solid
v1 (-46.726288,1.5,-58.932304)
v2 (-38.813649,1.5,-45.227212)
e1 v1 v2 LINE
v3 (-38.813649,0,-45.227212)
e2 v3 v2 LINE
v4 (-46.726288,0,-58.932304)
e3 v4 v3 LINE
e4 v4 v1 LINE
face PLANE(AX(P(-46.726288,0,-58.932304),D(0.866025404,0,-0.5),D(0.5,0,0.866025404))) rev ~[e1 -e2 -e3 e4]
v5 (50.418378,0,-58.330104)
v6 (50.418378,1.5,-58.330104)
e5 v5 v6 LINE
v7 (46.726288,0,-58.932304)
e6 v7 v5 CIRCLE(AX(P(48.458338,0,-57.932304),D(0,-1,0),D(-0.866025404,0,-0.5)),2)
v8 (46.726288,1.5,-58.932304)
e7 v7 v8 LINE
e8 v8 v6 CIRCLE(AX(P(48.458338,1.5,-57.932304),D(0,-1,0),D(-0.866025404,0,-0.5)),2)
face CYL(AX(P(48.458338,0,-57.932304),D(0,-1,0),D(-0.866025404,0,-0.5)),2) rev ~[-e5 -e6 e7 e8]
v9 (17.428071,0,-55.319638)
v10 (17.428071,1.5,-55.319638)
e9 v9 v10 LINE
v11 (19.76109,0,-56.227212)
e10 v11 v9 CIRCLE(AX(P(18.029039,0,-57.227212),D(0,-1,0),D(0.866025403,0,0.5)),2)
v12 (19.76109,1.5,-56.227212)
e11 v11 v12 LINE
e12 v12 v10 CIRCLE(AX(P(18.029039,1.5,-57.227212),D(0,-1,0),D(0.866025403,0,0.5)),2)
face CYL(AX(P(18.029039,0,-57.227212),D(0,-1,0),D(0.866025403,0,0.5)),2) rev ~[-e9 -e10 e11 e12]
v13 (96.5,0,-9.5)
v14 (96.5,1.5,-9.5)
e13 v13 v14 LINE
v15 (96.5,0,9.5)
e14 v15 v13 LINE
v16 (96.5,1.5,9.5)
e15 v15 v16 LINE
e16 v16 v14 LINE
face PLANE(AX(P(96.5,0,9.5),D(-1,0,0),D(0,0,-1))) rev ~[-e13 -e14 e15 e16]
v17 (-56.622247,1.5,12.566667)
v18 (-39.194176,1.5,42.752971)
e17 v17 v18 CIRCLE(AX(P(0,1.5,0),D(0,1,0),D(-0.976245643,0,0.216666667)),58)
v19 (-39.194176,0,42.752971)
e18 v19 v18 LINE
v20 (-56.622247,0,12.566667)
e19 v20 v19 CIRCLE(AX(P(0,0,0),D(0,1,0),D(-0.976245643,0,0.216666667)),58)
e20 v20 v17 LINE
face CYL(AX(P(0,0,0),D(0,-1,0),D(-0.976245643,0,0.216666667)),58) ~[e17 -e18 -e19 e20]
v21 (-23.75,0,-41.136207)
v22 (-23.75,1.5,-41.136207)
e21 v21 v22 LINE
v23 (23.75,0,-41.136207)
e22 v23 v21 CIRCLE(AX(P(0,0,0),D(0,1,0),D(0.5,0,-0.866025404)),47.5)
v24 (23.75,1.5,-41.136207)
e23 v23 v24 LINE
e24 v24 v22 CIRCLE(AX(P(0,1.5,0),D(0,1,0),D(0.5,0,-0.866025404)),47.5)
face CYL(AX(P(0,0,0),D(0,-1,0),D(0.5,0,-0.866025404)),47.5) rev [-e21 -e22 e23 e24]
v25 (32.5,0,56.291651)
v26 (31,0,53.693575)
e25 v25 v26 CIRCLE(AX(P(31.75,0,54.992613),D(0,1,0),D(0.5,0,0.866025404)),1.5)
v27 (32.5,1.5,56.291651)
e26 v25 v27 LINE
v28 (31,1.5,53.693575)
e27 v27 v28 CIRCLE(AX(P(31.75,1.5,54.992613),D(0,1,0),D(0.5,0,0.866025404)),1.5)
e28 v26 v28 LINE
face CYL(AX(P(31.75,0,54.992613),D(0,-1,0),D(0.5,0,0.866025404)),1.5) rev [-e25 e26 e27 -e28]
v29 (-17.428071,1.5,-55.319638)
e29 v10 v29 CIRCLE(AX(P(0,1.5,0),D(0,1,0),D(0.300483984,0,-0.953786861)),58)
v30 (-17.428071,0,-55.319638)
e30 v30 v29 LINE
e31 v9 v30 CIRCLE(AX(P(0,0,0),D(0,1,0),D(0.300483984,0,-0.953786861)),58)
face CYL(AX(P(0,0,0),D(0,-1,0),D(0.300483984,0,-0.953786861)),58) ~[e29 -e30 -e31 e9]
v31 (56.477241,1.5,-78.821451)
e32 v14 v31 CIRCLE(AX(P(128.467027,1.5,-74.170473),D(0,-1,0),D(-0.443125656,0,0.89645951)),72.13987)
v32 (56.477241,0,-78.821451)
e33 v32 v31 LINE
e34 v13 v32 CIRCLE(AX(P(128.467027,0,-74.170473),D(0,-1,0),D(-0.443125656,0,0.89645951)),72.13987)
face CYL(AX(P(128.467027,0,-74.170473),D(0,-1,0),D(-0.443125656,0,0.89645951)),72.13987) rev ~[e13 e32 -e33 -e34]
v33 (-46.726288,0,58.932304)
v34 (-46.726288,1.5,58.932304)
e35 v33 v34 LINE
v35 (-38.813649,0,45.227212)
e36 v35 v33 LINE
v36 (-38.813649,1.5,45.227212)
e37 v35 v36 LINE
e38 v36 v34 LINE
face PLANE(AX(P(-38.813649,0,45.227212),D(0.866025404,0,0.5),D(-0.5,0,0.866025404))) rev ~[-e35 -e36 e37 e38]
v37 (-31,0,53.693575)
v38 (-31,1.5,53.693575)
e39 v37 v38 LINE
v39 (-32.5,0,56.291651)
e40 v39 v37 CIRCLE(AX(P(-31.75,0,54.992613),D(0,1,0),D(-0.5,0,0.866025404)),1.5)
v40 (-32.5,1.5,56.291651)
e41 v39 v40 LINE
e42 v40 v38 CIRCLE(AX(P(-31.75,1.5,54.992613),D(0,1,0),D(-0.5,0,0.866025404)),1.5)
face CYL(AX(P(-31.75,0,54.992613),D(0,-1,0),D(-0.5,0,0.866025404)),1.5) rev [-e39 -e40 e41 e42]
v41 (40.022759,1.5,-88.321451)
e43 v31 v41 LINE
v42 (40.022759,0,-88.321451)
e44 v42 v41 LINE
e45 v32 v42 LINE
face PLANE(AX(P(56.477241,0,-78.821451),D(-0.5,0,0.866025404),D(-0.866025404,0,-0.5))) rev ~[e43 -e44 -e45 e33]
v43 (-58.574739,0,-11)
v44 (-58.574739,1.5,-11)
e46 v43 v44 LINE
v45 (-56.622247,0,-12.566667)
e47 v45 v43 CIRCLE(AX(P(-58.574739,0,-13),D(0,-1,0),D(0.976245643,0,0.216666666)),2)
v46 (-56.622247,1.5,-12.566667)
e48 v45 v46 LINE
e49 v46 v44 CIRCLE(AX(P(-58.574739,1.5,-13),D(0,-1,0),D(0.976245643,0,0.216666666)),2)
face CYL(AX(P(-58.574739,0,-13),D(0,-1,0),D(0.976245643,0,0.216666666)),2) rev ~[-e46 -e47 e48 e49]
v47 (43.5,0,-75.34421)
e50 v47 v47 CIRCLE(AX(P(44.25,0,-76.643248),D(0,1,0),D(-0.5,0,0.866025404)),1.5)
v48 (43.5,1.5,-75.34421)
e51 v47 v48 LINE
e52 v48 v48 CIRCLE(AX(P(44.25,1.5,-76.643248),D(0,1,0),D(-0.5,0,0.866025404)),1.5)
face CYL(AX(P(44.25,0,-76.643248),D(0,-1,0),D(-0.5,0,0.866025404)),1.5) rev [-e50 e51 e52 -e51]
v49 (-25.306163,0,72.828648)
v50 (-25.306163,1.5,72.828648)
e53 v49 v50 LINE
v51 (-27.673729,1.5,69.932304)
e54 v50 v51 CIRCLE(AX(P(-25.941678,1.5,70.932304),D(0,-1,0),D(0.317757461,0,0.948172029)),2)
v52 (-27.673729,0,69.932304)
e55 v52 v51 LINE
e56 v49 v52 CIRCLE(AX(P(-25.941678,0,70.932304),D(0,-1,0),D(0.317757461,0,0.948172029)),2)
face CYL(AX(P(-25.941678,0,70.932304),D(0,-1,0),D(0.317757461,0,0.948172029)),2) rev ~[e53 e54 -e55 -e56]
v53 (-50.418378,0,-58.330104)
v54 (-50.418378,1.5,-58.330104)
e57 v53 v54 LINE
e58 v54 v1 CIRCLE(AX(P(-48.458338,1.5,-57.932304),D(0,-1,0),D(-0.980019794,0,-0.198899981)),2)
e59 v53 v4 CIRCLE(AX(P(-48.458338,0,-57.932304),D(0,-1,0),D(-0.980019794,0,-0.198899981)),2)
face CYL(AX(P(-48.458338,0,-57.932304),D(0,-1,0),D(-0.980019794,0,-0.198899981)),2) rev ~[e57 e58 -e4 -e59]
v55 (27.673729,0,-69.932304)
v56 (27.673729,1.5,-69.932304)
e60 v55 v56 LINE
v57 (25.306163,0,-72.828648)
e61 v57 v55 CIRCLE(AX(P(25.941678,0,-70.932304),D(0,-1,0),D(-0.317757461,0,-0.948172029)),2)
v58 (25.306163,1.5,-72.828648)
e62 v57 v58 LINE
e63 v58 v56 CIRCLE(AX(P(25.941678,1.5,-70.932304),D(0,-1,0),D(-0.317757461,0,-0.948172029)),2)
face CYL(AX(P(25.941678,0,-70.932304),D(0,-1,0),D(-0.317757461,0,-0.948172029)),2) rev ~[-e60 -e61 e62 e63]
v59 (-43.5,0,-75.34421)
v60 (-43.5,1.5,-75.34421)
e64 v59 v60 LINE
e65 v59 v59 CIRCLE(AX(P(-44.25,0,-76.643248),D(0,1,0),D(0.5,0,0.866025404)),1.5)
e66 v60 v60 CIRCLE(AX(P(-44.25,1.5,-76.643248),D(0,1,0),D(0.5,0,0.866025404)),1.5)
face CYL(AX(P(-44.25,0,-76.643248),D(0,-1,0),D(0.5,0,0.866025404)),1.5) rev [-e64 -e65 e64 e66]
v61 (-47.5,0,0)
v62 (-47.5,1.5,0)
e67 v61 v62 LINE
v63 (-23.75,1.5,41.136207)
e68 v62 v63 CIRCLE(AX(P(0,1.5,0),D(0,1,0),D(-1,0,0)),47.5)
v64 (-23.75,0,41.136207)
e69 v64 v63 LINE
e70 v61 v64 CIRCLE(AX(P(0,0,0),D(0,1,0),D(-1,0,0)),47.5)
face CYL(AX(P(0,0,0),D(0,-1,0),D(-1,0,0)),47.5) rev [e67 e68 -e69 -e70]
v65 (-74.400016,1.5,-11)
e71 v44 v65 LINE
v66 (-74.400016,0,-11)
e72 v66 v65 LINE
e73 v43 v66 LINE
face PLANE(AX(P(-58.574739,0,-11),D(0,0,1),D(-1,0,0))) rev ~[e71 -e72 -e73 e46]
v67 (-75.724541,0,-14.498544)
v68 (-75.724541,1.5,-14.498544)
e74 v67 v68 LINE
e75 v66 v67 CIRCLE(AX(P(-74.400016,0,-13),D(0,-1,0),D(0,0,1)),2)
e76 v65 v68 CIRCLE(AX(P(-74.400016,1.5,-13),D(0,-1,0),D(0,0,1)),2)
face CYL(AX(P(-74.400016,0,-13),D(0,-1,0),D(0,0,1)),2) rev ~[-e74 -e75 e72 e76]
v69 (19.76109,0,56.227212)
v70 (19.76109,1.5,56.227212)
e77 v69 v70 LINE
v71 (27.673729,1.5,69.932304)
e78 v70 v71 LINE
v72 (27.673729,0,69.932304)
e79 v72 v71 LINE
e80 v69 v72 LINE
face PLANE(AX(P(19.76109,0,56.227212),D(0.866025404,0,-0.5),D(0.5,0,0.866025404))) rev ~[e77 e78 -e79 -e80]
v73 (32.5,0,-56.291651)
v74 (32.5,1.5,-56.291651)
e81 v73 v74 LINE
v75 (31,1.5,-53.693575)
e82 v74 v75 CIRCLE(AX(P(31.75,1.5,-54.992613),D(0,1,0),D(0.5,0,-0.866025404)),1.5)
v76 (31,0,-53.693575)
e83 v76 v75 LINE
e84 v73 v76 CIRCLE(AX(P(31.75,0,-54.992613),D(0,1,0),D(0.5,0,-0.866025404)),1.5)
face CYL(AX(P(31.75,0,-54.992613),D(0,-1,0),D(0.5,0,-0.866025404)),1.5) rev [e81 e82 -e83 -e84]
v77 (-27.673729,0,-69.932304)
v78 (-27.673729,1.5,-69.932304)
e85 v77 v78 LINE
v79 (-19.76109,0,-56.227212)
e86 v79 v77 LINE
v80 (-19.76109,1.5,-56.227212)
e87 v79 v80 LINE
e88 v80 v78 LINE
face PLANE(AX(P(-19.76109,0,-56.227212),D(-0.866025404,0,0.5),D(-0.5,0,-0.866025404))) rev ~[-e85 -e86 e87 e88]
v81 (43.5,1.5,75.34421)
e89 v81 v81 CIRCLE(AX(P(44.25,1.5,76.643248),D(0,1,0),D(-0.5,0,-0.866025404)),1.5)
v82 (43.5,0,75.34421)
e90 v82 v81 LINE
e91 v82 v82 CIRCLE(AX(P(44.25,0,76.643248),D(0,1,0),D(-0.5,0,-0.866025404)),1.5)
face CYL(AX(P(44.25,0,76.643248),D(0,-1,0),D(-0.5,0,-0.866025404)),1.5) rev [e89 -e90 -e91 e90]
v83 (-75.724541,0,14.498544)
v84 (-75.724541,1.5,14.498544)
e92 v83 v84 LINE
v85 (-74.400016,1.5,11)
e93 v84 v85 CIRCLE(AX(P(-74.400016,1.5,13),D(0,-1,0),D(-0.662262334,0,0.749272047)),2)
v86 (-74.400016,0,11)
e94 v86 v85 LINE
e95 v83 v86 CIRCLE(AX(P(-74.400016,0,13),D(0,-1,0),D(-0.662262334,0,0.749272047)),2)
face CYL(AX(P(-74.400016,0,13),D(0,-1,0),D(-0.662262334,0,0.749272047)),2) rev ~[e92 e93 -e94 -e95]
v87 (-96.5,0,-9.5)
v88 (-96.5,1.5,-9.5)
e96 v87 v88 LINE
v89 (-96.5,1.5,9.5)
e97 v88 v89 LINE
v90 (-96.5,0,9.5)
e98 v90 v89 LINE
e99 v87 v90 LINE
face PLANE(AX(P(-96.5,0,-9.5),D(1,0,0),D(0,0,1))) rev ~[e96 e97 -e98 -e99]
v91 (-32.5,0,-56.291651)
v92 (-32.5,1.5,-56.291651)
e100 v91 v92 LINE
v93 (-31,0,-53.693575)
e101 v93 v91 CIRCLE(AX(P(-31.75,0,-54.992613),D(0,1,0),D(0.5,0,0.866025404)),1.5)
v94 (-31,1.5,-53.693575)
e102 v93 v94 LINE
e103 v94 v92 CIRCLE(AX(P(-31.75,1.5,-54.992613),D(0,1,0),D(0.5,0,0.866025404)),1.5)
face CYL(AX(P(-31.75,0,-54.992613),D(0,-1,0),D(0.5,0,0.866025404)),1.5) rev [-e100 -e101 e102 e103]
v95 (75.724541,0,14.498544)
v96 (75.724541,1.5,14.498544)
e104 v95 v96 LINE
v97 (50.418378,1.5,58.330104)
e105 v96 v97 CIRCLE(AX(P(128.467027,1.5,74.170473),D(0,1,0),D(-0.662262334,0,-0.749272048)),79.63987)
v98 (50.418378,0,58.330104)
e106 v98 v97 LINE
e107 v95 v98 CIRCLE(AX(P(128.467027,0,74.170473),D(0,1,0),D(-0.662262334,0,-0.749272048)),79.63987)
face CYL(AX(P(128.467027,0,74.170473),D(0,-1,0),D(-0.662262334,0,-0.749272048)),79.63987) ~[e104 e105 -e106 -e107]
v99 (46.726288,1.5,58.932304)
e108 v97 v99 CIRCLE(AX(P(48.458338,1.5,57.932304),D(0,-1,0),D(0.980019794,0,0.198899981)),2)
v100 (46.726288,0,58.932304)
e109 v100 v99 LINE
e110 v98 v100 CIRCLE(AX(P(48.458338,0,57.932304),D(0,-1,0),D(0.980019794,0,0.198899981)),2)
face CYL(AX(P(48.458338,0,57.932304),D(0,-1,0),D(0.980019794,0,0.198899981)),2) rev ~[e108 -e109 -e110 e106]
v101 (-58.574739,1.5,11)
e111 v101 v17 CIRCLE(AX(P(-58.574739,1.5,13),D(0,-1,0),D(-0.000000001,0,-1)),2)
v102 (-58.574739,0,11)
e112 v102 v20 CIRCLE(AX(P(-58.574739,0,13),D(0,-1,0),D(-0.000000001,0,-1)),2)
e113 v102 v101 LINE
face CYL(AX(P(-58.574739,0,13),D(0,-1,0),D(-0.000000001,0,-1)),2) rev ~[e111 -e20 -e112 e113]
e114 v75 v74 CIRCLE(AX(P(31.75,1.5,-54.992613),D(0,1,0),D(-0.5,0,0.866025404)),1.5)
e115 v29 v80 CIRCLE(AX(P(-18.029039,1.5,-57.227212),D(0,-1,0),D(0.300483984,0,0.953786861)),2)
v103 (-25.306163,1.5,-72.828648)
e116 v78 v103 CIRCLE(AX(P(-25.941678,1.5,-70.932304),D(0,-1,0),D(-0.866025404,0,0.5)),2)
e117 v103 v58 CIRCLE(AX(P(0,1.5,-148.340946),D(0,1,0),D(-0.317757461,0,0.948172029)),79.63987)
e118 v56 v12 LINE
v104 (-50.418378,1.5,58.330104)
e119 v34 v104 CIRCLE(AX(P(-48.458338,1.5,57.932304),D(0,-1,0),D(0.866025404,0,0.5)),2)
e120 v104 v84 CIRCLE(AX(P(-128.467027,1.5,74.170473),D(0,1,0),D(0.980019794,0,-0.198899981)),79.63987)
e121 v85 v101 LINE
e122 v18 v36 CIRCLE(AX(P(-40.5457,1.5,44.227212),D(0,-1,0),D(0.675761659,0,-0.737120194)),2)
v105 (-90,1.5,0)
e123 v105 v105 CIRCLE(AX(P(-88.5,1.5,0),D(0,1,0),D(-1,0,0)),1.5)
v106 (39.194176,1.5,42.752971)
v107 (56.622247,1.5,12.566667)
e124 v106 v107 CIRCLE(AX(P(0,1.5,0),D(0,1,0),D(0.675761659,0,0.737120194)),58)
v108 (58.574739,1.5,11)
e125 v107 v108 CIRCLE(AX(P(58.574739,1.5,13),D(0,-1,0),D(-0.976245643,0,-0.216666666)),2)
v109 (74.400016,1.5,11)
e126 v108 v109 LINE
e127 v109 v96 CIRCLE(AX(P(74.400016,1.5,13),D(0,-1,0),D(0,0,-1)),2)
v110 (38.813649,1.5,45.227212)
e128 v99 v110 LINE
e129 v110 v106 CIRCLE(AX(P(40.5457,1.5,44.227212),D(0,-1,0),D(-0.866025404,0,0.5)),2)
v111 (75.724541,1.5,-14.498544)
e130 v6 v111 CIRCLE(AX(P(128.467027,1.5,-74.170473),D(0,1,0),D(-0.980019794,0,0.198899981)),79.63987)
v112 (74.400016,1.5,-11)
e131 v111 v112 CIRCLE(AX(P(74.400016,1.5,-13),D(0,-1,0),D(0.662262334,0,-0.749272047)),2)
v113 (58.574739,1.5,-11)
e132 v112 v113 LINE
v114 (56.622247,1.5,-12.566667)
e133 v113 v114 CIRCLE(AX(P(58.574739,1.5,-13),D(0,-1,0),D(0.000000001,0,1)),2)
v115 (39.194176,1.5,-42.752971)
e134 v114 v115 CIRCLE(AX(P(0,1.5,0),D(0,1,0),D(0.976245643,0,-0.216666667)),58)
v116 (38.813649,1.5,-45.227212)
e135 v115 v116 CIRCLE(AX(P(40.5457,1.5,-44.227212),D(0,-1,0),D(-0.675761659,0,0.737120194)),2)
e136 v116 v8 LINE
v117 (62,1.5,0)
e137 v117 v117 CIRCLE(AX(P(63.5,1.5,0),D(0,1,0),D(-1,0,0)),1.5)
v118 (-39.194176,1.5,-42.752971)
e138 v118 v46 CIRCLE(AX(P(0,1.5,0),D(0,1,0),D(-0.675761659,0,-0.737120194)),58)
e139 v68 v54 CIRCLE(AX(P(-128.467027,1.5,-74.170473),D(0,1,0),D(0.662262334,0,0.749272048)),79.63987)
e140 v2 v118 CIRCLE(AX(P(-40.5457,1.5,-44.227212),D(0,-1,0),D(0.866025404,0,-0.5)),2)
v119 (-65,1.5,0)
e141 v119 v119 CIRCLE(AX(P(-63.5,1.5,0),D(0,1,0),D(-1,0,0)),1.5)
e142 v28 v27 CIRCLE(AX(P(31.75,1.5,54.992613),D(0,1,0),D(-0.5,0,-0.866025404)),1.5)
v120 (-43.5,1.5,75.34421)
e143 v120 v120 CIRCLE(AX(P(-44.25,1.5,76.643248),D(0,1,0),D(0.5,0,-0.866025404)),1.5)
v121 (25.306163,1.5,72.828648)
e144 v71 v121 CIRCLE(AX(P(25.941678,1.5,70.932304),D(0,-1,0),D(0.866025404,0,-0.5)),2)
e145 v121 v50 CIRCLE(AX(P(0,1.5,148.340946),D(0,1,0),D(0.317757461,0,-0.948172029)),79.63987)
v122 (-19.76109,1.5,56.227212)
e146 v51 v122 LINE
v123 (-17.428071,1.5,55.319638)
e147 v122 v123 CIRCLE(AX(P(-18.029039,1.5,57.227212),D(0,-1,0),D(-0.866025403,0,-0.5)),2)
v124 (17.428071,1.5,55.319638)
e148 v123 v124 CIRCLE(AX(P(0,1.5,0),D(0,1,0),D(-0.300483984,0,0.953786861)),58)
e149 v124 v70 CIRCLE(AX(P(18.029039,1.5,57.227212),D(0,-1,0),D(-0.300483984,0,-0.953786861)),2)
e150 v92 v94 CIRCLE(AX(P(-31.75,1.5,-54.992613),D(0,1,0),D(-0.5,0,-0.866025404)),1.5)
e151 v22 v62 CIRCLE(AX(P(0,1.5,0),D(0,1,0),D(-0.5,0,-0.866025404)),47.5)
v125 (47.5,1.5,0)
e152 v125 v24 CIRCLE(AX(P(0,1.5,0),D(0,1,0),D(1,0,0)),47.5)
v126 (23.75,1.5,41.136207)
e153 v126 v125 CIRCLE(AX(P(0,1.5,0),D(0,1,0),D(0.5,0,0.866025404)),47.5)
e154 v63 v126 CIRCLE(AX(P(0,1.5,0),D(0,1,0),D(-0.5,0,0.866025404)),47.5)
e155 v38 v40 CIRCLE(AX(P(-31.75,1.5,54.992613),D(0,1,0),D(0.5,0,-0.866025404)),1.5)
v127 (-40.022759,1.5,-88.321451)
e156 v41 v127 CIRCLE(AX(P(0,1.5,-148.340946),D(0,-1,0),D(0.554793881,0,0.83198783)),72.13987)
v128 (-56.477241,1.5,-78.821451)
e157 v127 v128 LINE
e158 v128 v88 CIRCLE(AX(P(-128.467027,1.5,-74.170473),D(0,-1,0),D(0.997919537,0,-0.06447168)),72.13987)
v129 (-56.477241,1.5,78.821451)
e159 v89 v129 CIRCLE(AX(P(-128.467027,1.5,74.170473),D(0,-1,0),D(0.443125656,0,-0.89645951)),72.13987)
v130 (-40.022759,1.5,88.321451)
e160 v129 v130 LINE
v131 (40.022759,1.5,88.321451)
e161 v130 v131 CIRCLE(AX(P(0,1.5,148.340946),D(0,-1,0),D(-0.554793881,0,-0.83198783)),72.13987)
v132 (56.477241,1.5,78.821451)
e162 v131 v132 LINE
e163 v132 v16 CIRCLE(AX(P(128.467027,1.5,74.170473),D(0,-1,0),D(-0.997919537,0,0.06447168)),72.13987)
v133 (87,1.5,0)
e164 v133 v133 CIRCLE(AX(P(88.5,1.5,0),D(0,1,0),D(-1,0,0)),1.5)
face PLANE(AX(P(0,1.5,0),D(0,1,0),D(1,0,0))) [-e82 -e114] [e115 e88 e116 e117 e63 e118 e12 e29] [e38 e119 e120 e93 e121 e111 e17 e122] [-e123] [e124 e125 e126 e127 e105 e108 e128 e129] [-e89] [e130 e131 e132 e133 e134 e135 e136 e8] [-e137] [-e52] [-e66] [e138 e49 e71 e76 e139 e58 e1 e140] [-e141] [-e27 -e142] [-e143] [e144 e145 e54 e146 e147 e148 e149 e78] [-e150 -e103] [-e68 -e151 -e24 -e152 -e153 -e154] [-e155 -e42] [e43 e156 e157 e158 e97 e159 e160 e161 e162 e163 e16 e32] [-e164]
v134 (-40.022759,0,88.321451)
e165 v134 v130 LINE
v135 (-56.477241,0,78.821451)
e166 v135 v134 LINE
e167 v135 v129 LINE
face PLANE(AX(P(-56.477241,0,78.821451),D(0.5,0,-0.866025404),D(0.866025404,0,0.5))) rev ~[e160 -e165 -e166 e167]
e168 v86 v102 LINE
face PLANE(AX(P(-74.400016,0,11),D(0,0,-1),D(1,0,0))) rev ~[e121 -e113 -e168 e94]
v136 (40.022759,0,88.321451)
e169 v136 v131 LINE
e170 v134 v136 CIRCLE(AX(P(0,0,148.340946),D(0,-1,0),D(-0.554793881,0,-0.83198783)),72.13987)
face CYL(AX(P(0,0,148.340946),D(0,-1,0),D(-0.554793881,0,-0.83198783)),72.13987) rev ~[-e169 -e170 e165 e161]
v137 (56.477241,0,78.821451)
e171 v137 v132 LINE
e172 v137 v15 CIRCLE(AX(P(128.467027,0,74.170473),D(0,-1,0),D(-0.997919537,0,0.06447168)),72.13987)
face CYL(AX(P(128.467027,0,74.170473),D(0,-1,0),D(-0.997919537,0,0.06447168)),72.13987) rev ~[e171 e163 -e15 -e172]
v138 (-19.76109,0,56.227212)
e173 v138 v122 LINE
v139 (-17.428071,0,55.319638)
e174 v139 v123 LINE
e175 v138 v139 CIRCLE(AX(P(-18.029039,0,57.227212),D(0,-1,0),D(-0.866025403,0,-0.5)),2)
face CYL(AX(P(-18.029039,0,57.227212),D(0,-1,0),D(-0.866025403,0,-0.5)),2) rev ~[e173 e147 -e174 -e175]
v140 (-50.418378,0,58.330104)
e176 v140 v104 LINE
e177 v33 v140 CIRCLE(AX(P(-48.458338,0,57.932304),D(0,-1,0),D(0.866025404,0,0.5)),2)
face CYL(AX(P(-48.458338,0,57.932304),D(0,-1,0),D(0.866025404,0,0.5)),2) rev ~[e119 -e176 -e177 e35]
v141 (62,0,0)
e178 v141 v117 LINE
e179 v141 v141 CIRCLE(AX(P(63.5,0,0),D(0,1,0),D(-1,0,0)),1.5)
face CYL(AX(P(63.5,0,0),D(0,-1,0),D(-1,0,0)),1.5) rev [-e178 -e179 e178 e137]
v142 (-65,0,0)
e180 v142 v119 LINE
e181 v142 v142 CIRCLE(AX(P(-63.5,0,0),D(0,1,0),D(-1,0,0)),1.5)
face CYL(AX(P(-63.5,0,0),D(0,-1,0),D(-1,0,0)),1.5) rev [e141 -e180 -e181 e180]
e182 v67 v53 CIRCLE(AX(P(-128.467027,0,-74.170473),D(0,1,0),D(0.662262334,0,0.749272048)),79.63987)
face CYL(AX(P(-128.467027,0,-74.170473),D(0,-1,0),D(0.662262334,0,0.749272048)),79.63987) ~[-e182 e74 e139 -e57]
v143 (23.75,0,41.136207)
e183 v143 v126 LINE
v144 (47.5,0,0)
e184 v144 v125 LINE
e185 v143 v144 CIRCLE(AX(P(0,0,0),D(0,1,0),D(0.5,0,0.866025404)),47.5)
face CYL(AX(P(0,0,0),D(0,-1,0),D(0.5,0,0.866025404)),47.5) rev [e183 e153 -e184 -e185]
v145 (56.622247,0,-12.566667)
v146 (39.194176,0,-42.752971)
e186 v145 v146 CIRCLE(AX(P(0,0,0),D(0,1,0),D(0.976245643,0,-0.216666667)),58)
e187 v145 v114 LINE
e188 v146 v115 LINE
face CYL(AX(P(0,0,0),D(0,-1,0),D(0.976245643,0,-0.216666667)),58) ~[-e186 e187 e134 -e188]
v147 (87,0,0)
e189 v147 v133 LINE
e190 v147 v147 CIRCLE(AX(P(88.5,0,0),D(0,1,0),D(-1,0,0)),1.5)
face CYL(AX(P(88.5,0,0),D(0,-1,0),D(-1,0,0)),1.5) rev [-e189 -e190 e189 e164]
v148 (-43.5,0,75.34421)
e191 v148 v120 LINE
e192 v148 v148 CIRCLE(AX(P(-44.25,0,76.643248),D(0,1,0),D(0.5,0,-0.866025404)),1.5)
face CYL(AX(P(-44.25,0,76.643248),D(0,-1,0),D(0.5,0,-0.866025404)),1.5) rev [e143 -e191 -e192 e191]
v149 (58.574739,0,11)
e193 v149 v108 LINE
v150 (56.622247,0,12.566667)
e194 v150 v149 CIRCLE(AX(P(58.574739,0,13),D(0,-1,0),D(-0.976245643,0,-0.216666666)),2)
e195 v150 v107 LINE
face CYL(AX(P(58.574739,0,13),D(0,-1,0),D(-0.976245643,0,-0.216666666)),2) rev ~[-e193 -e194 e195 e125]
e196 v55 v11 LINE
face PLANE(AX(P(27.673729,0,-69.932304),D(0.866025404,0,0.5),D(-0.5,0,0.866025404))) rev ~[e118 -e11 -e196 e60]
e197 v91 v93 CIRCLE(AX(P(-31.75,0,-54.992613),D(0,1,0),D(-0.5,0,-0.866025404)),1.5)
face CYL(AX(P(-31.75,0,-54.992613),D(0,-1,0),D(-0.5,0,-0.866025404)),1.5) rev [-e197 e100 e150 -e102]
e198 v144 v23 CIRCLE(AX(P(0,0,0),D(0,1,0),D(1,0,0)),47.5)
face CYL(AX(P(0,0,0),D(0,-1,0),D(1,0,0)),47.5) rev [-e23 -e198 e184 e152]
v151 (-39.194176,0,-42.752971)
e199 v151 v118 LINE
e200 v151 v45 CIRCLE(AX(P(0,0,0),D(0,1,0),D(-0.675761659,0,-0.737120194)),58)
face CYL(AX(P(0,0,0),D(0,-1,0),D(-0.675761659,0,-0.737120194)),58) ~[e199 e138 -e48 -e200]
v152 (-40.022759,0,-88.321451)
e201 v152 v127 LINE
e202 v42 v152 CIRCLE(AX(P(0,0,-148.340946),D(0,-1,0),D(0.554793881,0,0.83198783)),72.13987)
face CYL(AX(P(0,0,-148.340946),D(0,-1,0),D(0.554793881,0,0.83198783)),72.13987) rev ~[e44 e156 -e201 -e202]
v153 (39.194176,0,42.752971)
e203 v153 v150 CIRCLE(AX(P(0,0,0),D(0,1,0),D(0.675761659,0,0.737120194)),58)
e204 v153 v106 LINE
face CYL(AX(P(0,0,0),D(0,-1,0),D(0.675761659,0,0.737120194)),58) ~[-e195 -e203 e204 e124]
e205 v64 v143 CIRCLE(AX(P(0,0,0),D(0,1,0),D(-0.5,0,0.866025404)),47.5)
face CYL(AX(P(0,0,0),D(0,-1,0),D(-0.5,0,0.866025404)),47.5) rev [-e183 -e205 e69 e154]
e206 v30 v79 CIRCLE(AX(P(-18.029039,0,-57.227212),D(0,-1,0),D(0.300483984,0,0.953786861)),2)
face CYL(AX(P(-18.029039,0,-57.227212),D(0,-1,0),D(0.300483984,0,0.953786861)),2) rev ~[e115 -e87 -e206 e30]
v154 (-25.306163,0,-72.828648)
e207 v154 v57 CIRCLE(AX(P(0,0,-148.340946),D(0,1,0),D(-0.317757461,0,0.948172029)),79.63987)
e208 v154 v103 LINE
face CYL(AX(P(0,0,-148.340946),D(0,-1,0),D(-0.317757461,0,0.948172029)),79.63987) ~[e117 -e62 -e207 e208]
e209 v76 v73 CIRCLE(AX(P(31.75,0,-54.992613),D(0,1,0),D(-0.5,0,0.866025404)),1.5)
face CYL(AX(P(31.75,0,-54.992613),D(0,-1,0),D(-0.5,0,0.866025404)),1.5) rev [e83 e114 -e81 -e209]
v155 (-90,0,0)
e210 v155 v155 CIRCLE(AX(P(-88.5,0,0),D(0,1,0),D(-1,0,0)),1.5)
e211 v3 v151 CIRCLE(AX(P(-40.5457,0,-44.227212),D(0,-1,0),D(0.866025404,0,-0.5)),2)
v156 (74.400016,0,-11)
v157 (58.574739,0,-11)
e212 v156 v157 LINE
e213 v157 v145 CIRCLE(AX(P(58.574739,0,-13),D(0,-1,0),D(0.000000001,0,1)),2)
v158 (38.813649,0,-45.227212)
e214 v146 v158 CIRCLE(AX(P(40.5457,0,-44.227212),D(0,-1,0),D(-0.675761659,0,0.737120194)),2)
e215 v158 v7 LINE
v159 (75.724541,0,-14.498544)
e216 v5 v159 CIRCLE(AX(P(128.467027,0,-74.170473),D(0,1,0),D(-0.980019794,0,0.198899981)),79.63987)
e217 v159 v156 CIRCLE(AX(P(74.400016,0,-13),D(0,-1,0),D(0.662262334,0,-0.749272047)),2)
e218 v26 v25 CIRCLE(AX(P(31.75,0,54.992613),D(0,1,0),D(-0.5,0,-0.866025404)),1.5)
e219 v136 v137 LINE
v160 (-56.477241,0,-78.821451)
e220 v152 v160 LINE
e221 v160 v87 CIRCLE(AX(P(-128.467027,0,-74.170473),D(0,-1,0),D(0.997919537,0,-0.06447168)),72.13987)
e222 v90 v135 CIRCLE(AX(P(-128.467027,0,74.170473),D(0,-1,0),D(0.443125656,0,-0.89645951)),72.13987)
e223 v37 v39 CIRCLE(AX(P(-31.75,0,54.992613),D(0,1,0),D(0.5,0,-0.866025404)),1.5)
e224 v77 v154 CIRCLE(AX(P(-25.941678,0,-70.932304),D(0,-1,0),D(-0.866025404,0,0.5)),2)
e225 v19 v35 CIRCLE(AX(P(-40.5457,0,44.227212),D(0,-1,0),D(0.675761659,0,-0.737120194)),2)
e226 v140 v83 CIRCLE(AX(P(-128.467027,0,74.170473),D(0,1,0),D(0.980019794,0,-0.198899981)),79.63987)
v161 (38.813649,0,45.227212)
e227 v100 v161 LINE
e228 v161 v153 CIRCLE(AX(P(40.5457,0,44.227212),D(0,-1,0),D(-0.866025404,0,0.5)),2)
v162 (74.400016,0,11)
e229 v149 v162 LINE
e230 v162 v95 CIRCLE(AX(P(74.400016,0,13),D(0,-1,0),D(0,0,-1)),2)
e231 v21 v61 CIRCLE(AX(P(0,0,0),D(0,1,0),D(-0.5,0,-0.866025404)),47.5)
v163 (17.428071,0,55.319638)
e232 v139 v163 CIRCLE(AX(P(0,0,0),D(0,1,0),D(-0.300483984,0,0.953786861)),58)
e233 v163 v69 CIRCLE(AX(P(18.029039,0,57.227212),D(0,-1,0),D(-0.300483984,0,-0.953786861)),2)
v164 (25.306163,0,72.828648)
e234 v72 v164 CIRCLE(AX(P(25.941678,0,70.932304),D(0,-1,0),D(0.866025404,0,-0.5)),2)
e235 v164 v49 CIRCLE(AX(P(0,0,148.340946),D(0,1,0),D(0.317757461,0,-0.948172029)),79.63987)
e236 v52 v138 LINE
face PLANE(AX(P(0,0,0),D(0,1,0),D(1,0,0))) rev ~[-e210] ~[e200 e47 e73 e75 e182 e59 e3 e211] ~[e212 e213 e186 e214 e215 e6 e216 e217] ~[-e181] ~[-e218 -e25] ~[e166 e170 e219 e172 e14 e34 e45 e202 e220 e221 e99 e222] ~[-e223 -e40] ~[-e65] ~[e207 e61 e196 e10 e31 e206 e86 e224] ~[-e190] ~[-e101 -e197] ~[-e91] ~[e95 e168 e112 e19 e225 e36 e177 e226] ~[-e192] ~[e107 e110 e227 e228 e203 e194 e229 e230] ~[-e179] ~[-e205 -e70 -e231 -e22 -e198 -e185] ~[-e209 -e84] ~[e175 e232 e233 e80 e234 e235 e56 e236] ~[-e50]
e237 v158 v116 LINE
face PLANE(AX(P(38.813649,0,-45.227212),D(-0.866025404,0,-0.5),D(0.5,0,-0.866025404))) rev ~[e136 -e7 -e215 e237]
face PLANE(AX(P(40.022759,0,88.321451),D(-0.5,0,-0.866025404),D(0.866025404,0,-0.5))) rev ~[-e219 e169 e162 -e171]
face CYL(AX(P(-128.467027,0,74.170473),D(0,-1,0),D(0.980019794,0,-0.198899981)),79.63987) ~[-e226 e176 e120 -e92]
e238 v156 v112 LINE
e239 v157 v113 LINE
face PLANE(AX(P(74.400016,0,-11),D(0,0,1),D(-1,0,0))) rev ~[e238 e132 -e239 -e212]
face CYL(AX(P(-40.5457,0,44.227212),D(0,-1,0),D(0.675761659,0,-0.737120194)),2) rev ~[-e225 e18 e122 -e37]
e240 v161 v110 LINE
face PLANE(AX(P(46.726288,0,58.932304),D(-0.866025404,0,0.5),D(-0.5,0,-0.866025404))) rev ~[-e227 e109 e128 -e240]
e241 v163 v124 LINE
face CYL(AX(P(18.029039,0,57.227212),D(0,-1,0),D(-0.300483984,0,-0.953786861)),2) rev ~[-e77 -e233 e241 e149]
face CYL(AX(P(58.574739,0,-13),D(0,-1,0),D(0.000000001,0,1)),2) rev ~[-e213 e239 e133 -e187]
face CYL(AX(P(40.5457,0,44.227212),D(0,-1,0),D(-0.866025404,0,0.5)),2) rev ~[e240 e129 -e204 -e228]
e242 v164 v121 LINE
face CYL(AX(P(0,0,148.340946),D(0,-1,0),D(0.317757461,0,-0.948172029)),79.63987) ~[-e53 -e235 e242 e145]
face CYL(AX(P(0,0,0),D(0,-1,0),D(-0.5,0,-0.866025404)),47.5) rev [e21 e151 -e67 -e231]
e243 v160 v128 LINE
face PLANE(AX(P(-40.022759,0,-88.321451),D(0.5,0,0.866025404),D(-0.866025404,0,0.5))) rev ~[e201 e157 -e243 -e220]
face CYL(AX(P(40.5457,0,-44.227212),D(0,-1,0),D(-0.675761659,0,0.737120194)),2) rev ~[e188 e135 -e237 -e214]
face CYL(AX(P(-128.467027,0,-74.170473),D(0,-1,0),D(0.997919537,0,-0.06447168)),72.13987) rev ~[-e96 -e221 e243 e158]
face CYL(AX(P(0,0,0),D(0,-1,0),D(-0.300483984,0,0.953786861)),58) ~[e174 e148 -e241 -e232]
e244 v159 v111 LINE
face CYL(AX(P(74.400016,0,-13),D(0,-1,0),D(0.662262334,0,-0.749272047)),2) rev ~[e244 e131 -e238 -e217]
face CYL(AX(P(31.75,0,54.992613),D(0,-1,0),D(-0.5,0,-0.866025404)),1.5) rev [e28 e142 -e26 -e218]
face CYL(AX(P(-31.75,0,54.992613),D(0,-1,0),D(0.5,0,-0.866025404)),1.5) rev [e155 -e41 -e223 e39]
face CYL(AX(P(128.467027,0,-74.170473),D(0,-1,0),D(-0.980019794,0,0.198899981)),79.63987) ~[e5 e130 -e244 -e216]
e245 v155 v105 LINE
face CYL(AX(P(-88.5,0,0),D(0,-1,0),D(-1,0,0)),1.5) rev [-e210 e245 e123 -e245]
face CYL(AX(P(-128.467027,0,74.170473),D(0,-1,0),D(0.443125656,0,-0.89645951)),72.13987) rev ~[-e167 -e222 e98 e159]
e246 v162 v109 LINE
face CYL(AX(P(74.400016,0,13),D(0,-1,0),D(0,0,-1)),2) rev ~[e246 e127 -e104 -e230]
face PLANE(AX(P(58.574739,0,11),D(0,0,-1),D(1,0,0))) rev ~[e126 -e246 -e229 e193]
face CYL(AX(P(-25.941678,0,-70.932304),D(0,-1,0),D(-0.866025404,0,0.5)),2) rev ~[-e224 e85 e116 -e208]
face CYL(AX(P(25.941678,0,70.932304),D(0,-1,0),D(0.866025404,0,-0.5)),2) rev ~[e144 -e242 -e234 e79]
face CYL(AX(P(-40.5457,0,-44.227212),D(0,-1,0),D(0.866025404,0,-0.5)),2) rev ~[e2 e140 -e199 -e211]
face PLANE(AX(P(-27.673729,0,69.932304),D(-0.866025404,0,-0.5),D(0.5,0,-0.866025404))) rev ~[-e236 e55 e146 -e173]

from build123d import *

# Parameters (mm, degrees)
EXTRUDE_1_DEPTH = 1.5


with BuildPart() as part:
    # Эскиз1 → Бобышка-Вытянуть1 (new body)
    with BuildSketch(Plane(origin=(0, 0, 0), x_dir=(1, 0, 0), z_dir=(0, 1, 0))):
        with BuildLine():
            Line((-40.022758664, 88.321451465), (-48.25, 83.571451465))
            Line((-48.25, 83.571451465), (-56.477241336, 78.821451465))
            ThreePointArc((-56.477241336, 78.821451465), (-65.99206702, 38.100537658), (-96.5, 9.5))
            Line((-96.5, 9.5), (-96.5, 0))
            Line((-96.5, 0), (-96.5, -9.5))
            ThreePointArc((-96.5, -9.5), (-65.99206702, -38.100537658), (-56.477241336, -78.821451465))
            Line((-56.477241336, -78.821451465), (-48.25, -83.571451465))
            Line((-48.25, -83.571451465), (-40.022758664, -88.321451465))
            ThreePointArc((-40.022758664, -88.321451465), (0, -76.201075317), (40.022758664, -88.321451465))
            Line((40.022758664, -88.321451465), (48.25, -83.571451465))
            Line((48.25, -83.571451465), (56.477241336, -78.821451465))
            ThreePointArc((56.477241336, -78.821451465), (65.99206702, -38.100537658), (96.5, -9.5))
            Line((96.5, -9.5), (96.5, 0))
            Line((96.5, 0), (96.5, 9.5))
            ThreePointArc((96.5, 9.5), (65.99206702, 38.100537658), (56.477241336, 78.821451465))
            Line((56.477241336, 78.821451465), (48.25, 83.571451465))
            Line((48.25, 83.571451465), (40.022758664, 88.321451465))
            ThreePointArc((40.022758664, 88.321451465), (0, 76.201075317), (-40.022758664, 88.321451465))
        make_face()
        with BuildLine():
            Line((27.673728715, 69.932304169), (19.76108985, 56.227211632))
            ThreePointArc((19.76108985, 56.227211632), (18.754131872, 55.363280199), (17.428071074, 55.319637911))
            ThreePointArc((17.428071074, 55.319637911), (0, 58), (-17.428071074, 55.319637911))
            ThreePointArc((-17.428071074, 55.319637911), (-18.754131872, 55.363280199), (-19.76108985, 56.227211632))
            Line((-19.76108985, 56.227211632), (-27.673728715, 69.932304169))
            ThreePointArc((-27.673728715, 69.932304169), (-27.490161024, 72.198084576), (-25.306162986, 72.828648227))
            ThreePointArc((-25.306162986, 72.828648227), (0, 68.701075317), (25.306162986, 72.828648227))
            ThreePointArc((25.306162986, 72.828648227), (27.490161024, 72.198084576), (27.673728715, 69.932304169))
        make_face(mode=Mode.SUBTRACT)
        with BuildLine():
            Line((-46.726287598, 58.932304169), (-38.813648733, 45.227211632))
            ThreePointArc((-38.813648733, 45.227211632), (-38.568941153, 43.923194727), (-39.194176222, 42.752971245))
            ThreePointArc((-39.194176222, 42.752971245), (-50.229473419, 29), (-56.622247296, 12.566666667))
            ThreePointArc((-56.622247296, 12.566666667), (-57.323073025, 11.440085472), (-58.574738582, 11))
            Line((-58.574738582, 11), (-74.400016313, 11))
            ThreePointArc((-74.400016313, 11), (-76.270455859, 12.291864487), (-75.724540981, 14.498544095))
            ThreePointArc((-75.724540981, 14.498544095), (-59.496876492, 34.350537658), (-50.418377995, 58.330104132))
            ThreePointArc((-50.418377995, 58.330104132), (-48.780294835, 59.906220089), (-46.726287598, 58.932304169))
        make_face(mode=Mode.SUBTRACT)
        with BuildLine():
            Line((74.400016313, 11), (58.574738582, 11))
            ThreePointArc((58.574738582, 11), (57.323073025, 11.440085472), (56.622247296, 12.566666667))
            ThreePointArc((56.622247296, 12.566666667), (50.229473419, 29), (39.194176222, 42.752971245))
            ThreePointArc((39.194176222, 42.752971245), (38.568941153, 43.923194727), (38.813648733, 45.227211632))
            Line((38.813648733, 45.227211632), (46.726287598, 58.932304169))
            ThreePointArc((46.726287598, 58.932304169), (48.780294835, 59.906220089), (50.418377995, 58.330104132))
            ThreePointArc((50.418377995, 58.330104132), (59.496876492, 34.350537658), (75.724540981, 14.498544095))
            ThreePointArc((75.724540981, 14.498544095), (76.270455859, 12.291864487), (74.400016313, 11))
        make_face(mode=Mode.SUBTRACT)
        with BuildLine():
            Line((46.726287598, -58.932304169), (38.813648733, -45.227211632))
            ThreePointArc((38.813648733, -45.227211632), (38.568941153, -43.923194727), (39.194176222, -42.752971245))
            ThreePointArc((39.194176222, -42.752971245), (50.229473419, -29), (56.622247296, -12.566666667))
            ThreePointArc((56.622247296, -12.566666667), (57.323073025, -11.440085472), (58.574738582, -11))
            Line((58.574738582, -11), (74.400016313, -11))
            ThreePointArc((74.400016313, -11), (76.270455859, -12.291864487), (75.724540981, -14.498544095))
            ThreePointArc((75.724540981, -14.498544095), (59.496876492, -34.350537658), (50.418377995, -58.330104132))
            ThreePointArc((50.418377995, -58.330104132), (48.780294835, -59.906220089), (46.726287598, -58.932304169))
        make_face(mode=Mode.SUBTRACT)
        with BuildLine():
            Line((-27.673728715, -69.932304169), (-19.76108985, -56.227211632))
            ThreePointArc((-19.76108985, -56.227211632), (-18.754131872, -55.363280199), (-17.428071074, -55.319637911))
            ThreePointArc((-17.428071074, -55.319637911), (0, -58), (17.428071074, -55.319637911))
            ThreePointArc((17.428071074, -55.319637911), (18.754131872, -55.363280199), (19.76108985, -56.227211632))
            Line((19.76108985, -56.227211632), (27.673728715, -69.932304169))
            ThreePointArc((27.673728715, -69.932304169), (27.490161024, -72.198084576), (25.306162986, -72.828648227))
            ThreePointArc((25.306162986, -72.828648227), (0, -68.701075317), (-25.306162986, -72.828648227))
            ThreePointArc((-25.306162986, -72.828648227), (-27.490161024, -72.198084576), (-27.673728715, -69.932304169))
        make_face(mode=Mode.SUBTRACT)
        with BuildLine():
            Line((-74.400016313, -11), (-58.574738582, -11))
            ThreePointArc((-58.574738582, -11), (-57.323073025, -11.440085472), (-56.622247296, -12.566666667))
            ThreePointArc((-56.622247296, -12.566666667), (-50.229473419, -29), (-39.194176222, -42.752971245))
            ThreePointArc((-39.194176222, -42.752971245), (-38.568941153, -43.923194727), (-38.813648733, -45.227211632))
            Line((-38.813648733, -45.227211632), (-46.726287598, -58.932304169))
            ThreePointArc((-46.726287598, -58.932304169), (-48.780294835, -59.906220089), (-50.418377995, -58.330104132))
            ThreePointArc((-50.418377995, -58.330104132), (-59.496876492, -34.350537658), (-75.724540981, -14.498544095))
            ThreePointArc((-75.724540981, -14.498544095), (-76.270455859, -12.291864487), (-74.400016313, -11))
        make_face(mode=Mode.SUBTRACT)
        with BuildLine():
            ThreePointArc((-23.75, 41.13620668), (-41.13620668, 23.75), (-47.5, 0))
            ThreePointArc((-47.5, 0), (-41.13620668, -23.75), (-23.75, -41.13620668))
            ThreePointArc((-23.75, -41.13620668), (0, -47.5), (23.75, -41.13620668))
            ThreePointArc((23.75, -41.13620668), (41.13620668, -23.75), (47.5, 0))
            ThreePointArc((47.5, 0), (41.13620668, 23.75), (23.75, 41.13620668))
            ThreePointArc((23.75, 41.13620668), (0, 47.5), (-23.75, 41.13620668))
        make_face(mode=Mode.SUBTRACT)
        with BuildLine():
            ThreePointArc((-87, 0), (-88.5, 1.5), (-90, 0))
            ThreePointArc((-90, 0), (-88.5, -1.5), (-87, 0))
        make_face(mode=Mode.SUBTRACT)
        with BuildLine():
            ThreePointArc((-62, 0), (-63.5, 1.5), (-65, 0))
            ThreePointArc((-65, 0), (-63.5, -1.5), (-62, 0))
        make_face(mode=Mode.SUBTRACT)
        with BuildLine():
            ThreePointArc((-32.5, 56.291651246), (-33.049038106, 54.24261314), (-31, 53.693575035))
            ThreePointArc((-31, 53.693575035), (-30.450961894, 55.74261314), (-32.5, 56.291651246))
        make_face(mode=Mode.SUBTRACT)
        with BuildLine():
            ThreePointArc((-45, 77.942286341), (-45.549038106, 75.893248235), (-43.5, 75.344210129))
            ThreePointArc((-43.5, 75.344210129), (-42.950961894, 77.393248235), (-45, 77.942286341))
        make_face(mode=Mode.SUBTRACT)
        with BuildLine():
            ThreePointArc((32.5, 56.291651246), (30.450961894, 55.74261314), (31, 53.693575035))
            ThreePointArc((31, 53.693575035), (33.049038106, 54.24261314), (32.5, 56.291651246))
        make_face(mode=Mode.SUBTRACT)
        with BuildLine():
            ThreePointArc((45, 77.942286341), (42.950961894, 77.393248235), (43.5, 75.344210129))
            ThreePointArc((43.5, 75.344210129), (45.549038106, 75.893248235), (45, 77.942286341))
        make_face(mode=Mode.SUBTRACT)
        with BuildLine():
            ThreePointArc((65, 0), (63.5, 1.5), (62, 0))
            ThreePointArc((62, 0), (63.5, -1.5), (65, 0))
        make_face(mode=Mode.SUBTRACT)
        with BuildLine():
            ThreePointArc((90, 0), (88.5, 1.5), (87, 0))
            ThreePointArc((87, 0), (88.5, -1.5), (90, 0))
        make_face(mode=Mode.SUBTRACT)
        with BuildLine():
            ThreePointArc((32.5, -56.291651246), (33.049038106, -54.24261314), (31, -53.693575035))
            ThreePointArc((31, -53.693575035), (30.450961894, -55.74261314), (32.5, -56.291651246))
        make_face(mode=Mode.SUBTRACT)
        with BuildLine():
            ThreePointArc((45, -77.942286341), (45.549038106, -75.893248235), (43.5, -75.344210129))
            ThreePointArc((43.5, -75.344210129), (42.950961894, -77.393248235), (45, -77.942286341))
        make_face(mode=Mode.SUBTRACT)
        with BuildLine():
            ThreePointArc((-32.5, -56.291651246), (-30.450961894, -55.74261314), (-31, -53.693575035))
            ThreePointArc((-31, -53.693575035), (-33.049038106, -54.24261314), (-32.5, -56.291651246))
        make_face(mode=Mode.SUBTRACT)
        with BuildLine():
            ThreePointArc((-45, -77.942286341), (-42.950961894, -77.393248235), (-43.5, -75.344210129))
            ThreePointArc((-43.5, -75.344210129), (-45.549038106, -75.893248235), (-45, -77.942286341))
        make_face(mode=Mode.SUBTRACT)
    extrude(amount=EXTRUDE_1_DEPTH)


solid = part.part
